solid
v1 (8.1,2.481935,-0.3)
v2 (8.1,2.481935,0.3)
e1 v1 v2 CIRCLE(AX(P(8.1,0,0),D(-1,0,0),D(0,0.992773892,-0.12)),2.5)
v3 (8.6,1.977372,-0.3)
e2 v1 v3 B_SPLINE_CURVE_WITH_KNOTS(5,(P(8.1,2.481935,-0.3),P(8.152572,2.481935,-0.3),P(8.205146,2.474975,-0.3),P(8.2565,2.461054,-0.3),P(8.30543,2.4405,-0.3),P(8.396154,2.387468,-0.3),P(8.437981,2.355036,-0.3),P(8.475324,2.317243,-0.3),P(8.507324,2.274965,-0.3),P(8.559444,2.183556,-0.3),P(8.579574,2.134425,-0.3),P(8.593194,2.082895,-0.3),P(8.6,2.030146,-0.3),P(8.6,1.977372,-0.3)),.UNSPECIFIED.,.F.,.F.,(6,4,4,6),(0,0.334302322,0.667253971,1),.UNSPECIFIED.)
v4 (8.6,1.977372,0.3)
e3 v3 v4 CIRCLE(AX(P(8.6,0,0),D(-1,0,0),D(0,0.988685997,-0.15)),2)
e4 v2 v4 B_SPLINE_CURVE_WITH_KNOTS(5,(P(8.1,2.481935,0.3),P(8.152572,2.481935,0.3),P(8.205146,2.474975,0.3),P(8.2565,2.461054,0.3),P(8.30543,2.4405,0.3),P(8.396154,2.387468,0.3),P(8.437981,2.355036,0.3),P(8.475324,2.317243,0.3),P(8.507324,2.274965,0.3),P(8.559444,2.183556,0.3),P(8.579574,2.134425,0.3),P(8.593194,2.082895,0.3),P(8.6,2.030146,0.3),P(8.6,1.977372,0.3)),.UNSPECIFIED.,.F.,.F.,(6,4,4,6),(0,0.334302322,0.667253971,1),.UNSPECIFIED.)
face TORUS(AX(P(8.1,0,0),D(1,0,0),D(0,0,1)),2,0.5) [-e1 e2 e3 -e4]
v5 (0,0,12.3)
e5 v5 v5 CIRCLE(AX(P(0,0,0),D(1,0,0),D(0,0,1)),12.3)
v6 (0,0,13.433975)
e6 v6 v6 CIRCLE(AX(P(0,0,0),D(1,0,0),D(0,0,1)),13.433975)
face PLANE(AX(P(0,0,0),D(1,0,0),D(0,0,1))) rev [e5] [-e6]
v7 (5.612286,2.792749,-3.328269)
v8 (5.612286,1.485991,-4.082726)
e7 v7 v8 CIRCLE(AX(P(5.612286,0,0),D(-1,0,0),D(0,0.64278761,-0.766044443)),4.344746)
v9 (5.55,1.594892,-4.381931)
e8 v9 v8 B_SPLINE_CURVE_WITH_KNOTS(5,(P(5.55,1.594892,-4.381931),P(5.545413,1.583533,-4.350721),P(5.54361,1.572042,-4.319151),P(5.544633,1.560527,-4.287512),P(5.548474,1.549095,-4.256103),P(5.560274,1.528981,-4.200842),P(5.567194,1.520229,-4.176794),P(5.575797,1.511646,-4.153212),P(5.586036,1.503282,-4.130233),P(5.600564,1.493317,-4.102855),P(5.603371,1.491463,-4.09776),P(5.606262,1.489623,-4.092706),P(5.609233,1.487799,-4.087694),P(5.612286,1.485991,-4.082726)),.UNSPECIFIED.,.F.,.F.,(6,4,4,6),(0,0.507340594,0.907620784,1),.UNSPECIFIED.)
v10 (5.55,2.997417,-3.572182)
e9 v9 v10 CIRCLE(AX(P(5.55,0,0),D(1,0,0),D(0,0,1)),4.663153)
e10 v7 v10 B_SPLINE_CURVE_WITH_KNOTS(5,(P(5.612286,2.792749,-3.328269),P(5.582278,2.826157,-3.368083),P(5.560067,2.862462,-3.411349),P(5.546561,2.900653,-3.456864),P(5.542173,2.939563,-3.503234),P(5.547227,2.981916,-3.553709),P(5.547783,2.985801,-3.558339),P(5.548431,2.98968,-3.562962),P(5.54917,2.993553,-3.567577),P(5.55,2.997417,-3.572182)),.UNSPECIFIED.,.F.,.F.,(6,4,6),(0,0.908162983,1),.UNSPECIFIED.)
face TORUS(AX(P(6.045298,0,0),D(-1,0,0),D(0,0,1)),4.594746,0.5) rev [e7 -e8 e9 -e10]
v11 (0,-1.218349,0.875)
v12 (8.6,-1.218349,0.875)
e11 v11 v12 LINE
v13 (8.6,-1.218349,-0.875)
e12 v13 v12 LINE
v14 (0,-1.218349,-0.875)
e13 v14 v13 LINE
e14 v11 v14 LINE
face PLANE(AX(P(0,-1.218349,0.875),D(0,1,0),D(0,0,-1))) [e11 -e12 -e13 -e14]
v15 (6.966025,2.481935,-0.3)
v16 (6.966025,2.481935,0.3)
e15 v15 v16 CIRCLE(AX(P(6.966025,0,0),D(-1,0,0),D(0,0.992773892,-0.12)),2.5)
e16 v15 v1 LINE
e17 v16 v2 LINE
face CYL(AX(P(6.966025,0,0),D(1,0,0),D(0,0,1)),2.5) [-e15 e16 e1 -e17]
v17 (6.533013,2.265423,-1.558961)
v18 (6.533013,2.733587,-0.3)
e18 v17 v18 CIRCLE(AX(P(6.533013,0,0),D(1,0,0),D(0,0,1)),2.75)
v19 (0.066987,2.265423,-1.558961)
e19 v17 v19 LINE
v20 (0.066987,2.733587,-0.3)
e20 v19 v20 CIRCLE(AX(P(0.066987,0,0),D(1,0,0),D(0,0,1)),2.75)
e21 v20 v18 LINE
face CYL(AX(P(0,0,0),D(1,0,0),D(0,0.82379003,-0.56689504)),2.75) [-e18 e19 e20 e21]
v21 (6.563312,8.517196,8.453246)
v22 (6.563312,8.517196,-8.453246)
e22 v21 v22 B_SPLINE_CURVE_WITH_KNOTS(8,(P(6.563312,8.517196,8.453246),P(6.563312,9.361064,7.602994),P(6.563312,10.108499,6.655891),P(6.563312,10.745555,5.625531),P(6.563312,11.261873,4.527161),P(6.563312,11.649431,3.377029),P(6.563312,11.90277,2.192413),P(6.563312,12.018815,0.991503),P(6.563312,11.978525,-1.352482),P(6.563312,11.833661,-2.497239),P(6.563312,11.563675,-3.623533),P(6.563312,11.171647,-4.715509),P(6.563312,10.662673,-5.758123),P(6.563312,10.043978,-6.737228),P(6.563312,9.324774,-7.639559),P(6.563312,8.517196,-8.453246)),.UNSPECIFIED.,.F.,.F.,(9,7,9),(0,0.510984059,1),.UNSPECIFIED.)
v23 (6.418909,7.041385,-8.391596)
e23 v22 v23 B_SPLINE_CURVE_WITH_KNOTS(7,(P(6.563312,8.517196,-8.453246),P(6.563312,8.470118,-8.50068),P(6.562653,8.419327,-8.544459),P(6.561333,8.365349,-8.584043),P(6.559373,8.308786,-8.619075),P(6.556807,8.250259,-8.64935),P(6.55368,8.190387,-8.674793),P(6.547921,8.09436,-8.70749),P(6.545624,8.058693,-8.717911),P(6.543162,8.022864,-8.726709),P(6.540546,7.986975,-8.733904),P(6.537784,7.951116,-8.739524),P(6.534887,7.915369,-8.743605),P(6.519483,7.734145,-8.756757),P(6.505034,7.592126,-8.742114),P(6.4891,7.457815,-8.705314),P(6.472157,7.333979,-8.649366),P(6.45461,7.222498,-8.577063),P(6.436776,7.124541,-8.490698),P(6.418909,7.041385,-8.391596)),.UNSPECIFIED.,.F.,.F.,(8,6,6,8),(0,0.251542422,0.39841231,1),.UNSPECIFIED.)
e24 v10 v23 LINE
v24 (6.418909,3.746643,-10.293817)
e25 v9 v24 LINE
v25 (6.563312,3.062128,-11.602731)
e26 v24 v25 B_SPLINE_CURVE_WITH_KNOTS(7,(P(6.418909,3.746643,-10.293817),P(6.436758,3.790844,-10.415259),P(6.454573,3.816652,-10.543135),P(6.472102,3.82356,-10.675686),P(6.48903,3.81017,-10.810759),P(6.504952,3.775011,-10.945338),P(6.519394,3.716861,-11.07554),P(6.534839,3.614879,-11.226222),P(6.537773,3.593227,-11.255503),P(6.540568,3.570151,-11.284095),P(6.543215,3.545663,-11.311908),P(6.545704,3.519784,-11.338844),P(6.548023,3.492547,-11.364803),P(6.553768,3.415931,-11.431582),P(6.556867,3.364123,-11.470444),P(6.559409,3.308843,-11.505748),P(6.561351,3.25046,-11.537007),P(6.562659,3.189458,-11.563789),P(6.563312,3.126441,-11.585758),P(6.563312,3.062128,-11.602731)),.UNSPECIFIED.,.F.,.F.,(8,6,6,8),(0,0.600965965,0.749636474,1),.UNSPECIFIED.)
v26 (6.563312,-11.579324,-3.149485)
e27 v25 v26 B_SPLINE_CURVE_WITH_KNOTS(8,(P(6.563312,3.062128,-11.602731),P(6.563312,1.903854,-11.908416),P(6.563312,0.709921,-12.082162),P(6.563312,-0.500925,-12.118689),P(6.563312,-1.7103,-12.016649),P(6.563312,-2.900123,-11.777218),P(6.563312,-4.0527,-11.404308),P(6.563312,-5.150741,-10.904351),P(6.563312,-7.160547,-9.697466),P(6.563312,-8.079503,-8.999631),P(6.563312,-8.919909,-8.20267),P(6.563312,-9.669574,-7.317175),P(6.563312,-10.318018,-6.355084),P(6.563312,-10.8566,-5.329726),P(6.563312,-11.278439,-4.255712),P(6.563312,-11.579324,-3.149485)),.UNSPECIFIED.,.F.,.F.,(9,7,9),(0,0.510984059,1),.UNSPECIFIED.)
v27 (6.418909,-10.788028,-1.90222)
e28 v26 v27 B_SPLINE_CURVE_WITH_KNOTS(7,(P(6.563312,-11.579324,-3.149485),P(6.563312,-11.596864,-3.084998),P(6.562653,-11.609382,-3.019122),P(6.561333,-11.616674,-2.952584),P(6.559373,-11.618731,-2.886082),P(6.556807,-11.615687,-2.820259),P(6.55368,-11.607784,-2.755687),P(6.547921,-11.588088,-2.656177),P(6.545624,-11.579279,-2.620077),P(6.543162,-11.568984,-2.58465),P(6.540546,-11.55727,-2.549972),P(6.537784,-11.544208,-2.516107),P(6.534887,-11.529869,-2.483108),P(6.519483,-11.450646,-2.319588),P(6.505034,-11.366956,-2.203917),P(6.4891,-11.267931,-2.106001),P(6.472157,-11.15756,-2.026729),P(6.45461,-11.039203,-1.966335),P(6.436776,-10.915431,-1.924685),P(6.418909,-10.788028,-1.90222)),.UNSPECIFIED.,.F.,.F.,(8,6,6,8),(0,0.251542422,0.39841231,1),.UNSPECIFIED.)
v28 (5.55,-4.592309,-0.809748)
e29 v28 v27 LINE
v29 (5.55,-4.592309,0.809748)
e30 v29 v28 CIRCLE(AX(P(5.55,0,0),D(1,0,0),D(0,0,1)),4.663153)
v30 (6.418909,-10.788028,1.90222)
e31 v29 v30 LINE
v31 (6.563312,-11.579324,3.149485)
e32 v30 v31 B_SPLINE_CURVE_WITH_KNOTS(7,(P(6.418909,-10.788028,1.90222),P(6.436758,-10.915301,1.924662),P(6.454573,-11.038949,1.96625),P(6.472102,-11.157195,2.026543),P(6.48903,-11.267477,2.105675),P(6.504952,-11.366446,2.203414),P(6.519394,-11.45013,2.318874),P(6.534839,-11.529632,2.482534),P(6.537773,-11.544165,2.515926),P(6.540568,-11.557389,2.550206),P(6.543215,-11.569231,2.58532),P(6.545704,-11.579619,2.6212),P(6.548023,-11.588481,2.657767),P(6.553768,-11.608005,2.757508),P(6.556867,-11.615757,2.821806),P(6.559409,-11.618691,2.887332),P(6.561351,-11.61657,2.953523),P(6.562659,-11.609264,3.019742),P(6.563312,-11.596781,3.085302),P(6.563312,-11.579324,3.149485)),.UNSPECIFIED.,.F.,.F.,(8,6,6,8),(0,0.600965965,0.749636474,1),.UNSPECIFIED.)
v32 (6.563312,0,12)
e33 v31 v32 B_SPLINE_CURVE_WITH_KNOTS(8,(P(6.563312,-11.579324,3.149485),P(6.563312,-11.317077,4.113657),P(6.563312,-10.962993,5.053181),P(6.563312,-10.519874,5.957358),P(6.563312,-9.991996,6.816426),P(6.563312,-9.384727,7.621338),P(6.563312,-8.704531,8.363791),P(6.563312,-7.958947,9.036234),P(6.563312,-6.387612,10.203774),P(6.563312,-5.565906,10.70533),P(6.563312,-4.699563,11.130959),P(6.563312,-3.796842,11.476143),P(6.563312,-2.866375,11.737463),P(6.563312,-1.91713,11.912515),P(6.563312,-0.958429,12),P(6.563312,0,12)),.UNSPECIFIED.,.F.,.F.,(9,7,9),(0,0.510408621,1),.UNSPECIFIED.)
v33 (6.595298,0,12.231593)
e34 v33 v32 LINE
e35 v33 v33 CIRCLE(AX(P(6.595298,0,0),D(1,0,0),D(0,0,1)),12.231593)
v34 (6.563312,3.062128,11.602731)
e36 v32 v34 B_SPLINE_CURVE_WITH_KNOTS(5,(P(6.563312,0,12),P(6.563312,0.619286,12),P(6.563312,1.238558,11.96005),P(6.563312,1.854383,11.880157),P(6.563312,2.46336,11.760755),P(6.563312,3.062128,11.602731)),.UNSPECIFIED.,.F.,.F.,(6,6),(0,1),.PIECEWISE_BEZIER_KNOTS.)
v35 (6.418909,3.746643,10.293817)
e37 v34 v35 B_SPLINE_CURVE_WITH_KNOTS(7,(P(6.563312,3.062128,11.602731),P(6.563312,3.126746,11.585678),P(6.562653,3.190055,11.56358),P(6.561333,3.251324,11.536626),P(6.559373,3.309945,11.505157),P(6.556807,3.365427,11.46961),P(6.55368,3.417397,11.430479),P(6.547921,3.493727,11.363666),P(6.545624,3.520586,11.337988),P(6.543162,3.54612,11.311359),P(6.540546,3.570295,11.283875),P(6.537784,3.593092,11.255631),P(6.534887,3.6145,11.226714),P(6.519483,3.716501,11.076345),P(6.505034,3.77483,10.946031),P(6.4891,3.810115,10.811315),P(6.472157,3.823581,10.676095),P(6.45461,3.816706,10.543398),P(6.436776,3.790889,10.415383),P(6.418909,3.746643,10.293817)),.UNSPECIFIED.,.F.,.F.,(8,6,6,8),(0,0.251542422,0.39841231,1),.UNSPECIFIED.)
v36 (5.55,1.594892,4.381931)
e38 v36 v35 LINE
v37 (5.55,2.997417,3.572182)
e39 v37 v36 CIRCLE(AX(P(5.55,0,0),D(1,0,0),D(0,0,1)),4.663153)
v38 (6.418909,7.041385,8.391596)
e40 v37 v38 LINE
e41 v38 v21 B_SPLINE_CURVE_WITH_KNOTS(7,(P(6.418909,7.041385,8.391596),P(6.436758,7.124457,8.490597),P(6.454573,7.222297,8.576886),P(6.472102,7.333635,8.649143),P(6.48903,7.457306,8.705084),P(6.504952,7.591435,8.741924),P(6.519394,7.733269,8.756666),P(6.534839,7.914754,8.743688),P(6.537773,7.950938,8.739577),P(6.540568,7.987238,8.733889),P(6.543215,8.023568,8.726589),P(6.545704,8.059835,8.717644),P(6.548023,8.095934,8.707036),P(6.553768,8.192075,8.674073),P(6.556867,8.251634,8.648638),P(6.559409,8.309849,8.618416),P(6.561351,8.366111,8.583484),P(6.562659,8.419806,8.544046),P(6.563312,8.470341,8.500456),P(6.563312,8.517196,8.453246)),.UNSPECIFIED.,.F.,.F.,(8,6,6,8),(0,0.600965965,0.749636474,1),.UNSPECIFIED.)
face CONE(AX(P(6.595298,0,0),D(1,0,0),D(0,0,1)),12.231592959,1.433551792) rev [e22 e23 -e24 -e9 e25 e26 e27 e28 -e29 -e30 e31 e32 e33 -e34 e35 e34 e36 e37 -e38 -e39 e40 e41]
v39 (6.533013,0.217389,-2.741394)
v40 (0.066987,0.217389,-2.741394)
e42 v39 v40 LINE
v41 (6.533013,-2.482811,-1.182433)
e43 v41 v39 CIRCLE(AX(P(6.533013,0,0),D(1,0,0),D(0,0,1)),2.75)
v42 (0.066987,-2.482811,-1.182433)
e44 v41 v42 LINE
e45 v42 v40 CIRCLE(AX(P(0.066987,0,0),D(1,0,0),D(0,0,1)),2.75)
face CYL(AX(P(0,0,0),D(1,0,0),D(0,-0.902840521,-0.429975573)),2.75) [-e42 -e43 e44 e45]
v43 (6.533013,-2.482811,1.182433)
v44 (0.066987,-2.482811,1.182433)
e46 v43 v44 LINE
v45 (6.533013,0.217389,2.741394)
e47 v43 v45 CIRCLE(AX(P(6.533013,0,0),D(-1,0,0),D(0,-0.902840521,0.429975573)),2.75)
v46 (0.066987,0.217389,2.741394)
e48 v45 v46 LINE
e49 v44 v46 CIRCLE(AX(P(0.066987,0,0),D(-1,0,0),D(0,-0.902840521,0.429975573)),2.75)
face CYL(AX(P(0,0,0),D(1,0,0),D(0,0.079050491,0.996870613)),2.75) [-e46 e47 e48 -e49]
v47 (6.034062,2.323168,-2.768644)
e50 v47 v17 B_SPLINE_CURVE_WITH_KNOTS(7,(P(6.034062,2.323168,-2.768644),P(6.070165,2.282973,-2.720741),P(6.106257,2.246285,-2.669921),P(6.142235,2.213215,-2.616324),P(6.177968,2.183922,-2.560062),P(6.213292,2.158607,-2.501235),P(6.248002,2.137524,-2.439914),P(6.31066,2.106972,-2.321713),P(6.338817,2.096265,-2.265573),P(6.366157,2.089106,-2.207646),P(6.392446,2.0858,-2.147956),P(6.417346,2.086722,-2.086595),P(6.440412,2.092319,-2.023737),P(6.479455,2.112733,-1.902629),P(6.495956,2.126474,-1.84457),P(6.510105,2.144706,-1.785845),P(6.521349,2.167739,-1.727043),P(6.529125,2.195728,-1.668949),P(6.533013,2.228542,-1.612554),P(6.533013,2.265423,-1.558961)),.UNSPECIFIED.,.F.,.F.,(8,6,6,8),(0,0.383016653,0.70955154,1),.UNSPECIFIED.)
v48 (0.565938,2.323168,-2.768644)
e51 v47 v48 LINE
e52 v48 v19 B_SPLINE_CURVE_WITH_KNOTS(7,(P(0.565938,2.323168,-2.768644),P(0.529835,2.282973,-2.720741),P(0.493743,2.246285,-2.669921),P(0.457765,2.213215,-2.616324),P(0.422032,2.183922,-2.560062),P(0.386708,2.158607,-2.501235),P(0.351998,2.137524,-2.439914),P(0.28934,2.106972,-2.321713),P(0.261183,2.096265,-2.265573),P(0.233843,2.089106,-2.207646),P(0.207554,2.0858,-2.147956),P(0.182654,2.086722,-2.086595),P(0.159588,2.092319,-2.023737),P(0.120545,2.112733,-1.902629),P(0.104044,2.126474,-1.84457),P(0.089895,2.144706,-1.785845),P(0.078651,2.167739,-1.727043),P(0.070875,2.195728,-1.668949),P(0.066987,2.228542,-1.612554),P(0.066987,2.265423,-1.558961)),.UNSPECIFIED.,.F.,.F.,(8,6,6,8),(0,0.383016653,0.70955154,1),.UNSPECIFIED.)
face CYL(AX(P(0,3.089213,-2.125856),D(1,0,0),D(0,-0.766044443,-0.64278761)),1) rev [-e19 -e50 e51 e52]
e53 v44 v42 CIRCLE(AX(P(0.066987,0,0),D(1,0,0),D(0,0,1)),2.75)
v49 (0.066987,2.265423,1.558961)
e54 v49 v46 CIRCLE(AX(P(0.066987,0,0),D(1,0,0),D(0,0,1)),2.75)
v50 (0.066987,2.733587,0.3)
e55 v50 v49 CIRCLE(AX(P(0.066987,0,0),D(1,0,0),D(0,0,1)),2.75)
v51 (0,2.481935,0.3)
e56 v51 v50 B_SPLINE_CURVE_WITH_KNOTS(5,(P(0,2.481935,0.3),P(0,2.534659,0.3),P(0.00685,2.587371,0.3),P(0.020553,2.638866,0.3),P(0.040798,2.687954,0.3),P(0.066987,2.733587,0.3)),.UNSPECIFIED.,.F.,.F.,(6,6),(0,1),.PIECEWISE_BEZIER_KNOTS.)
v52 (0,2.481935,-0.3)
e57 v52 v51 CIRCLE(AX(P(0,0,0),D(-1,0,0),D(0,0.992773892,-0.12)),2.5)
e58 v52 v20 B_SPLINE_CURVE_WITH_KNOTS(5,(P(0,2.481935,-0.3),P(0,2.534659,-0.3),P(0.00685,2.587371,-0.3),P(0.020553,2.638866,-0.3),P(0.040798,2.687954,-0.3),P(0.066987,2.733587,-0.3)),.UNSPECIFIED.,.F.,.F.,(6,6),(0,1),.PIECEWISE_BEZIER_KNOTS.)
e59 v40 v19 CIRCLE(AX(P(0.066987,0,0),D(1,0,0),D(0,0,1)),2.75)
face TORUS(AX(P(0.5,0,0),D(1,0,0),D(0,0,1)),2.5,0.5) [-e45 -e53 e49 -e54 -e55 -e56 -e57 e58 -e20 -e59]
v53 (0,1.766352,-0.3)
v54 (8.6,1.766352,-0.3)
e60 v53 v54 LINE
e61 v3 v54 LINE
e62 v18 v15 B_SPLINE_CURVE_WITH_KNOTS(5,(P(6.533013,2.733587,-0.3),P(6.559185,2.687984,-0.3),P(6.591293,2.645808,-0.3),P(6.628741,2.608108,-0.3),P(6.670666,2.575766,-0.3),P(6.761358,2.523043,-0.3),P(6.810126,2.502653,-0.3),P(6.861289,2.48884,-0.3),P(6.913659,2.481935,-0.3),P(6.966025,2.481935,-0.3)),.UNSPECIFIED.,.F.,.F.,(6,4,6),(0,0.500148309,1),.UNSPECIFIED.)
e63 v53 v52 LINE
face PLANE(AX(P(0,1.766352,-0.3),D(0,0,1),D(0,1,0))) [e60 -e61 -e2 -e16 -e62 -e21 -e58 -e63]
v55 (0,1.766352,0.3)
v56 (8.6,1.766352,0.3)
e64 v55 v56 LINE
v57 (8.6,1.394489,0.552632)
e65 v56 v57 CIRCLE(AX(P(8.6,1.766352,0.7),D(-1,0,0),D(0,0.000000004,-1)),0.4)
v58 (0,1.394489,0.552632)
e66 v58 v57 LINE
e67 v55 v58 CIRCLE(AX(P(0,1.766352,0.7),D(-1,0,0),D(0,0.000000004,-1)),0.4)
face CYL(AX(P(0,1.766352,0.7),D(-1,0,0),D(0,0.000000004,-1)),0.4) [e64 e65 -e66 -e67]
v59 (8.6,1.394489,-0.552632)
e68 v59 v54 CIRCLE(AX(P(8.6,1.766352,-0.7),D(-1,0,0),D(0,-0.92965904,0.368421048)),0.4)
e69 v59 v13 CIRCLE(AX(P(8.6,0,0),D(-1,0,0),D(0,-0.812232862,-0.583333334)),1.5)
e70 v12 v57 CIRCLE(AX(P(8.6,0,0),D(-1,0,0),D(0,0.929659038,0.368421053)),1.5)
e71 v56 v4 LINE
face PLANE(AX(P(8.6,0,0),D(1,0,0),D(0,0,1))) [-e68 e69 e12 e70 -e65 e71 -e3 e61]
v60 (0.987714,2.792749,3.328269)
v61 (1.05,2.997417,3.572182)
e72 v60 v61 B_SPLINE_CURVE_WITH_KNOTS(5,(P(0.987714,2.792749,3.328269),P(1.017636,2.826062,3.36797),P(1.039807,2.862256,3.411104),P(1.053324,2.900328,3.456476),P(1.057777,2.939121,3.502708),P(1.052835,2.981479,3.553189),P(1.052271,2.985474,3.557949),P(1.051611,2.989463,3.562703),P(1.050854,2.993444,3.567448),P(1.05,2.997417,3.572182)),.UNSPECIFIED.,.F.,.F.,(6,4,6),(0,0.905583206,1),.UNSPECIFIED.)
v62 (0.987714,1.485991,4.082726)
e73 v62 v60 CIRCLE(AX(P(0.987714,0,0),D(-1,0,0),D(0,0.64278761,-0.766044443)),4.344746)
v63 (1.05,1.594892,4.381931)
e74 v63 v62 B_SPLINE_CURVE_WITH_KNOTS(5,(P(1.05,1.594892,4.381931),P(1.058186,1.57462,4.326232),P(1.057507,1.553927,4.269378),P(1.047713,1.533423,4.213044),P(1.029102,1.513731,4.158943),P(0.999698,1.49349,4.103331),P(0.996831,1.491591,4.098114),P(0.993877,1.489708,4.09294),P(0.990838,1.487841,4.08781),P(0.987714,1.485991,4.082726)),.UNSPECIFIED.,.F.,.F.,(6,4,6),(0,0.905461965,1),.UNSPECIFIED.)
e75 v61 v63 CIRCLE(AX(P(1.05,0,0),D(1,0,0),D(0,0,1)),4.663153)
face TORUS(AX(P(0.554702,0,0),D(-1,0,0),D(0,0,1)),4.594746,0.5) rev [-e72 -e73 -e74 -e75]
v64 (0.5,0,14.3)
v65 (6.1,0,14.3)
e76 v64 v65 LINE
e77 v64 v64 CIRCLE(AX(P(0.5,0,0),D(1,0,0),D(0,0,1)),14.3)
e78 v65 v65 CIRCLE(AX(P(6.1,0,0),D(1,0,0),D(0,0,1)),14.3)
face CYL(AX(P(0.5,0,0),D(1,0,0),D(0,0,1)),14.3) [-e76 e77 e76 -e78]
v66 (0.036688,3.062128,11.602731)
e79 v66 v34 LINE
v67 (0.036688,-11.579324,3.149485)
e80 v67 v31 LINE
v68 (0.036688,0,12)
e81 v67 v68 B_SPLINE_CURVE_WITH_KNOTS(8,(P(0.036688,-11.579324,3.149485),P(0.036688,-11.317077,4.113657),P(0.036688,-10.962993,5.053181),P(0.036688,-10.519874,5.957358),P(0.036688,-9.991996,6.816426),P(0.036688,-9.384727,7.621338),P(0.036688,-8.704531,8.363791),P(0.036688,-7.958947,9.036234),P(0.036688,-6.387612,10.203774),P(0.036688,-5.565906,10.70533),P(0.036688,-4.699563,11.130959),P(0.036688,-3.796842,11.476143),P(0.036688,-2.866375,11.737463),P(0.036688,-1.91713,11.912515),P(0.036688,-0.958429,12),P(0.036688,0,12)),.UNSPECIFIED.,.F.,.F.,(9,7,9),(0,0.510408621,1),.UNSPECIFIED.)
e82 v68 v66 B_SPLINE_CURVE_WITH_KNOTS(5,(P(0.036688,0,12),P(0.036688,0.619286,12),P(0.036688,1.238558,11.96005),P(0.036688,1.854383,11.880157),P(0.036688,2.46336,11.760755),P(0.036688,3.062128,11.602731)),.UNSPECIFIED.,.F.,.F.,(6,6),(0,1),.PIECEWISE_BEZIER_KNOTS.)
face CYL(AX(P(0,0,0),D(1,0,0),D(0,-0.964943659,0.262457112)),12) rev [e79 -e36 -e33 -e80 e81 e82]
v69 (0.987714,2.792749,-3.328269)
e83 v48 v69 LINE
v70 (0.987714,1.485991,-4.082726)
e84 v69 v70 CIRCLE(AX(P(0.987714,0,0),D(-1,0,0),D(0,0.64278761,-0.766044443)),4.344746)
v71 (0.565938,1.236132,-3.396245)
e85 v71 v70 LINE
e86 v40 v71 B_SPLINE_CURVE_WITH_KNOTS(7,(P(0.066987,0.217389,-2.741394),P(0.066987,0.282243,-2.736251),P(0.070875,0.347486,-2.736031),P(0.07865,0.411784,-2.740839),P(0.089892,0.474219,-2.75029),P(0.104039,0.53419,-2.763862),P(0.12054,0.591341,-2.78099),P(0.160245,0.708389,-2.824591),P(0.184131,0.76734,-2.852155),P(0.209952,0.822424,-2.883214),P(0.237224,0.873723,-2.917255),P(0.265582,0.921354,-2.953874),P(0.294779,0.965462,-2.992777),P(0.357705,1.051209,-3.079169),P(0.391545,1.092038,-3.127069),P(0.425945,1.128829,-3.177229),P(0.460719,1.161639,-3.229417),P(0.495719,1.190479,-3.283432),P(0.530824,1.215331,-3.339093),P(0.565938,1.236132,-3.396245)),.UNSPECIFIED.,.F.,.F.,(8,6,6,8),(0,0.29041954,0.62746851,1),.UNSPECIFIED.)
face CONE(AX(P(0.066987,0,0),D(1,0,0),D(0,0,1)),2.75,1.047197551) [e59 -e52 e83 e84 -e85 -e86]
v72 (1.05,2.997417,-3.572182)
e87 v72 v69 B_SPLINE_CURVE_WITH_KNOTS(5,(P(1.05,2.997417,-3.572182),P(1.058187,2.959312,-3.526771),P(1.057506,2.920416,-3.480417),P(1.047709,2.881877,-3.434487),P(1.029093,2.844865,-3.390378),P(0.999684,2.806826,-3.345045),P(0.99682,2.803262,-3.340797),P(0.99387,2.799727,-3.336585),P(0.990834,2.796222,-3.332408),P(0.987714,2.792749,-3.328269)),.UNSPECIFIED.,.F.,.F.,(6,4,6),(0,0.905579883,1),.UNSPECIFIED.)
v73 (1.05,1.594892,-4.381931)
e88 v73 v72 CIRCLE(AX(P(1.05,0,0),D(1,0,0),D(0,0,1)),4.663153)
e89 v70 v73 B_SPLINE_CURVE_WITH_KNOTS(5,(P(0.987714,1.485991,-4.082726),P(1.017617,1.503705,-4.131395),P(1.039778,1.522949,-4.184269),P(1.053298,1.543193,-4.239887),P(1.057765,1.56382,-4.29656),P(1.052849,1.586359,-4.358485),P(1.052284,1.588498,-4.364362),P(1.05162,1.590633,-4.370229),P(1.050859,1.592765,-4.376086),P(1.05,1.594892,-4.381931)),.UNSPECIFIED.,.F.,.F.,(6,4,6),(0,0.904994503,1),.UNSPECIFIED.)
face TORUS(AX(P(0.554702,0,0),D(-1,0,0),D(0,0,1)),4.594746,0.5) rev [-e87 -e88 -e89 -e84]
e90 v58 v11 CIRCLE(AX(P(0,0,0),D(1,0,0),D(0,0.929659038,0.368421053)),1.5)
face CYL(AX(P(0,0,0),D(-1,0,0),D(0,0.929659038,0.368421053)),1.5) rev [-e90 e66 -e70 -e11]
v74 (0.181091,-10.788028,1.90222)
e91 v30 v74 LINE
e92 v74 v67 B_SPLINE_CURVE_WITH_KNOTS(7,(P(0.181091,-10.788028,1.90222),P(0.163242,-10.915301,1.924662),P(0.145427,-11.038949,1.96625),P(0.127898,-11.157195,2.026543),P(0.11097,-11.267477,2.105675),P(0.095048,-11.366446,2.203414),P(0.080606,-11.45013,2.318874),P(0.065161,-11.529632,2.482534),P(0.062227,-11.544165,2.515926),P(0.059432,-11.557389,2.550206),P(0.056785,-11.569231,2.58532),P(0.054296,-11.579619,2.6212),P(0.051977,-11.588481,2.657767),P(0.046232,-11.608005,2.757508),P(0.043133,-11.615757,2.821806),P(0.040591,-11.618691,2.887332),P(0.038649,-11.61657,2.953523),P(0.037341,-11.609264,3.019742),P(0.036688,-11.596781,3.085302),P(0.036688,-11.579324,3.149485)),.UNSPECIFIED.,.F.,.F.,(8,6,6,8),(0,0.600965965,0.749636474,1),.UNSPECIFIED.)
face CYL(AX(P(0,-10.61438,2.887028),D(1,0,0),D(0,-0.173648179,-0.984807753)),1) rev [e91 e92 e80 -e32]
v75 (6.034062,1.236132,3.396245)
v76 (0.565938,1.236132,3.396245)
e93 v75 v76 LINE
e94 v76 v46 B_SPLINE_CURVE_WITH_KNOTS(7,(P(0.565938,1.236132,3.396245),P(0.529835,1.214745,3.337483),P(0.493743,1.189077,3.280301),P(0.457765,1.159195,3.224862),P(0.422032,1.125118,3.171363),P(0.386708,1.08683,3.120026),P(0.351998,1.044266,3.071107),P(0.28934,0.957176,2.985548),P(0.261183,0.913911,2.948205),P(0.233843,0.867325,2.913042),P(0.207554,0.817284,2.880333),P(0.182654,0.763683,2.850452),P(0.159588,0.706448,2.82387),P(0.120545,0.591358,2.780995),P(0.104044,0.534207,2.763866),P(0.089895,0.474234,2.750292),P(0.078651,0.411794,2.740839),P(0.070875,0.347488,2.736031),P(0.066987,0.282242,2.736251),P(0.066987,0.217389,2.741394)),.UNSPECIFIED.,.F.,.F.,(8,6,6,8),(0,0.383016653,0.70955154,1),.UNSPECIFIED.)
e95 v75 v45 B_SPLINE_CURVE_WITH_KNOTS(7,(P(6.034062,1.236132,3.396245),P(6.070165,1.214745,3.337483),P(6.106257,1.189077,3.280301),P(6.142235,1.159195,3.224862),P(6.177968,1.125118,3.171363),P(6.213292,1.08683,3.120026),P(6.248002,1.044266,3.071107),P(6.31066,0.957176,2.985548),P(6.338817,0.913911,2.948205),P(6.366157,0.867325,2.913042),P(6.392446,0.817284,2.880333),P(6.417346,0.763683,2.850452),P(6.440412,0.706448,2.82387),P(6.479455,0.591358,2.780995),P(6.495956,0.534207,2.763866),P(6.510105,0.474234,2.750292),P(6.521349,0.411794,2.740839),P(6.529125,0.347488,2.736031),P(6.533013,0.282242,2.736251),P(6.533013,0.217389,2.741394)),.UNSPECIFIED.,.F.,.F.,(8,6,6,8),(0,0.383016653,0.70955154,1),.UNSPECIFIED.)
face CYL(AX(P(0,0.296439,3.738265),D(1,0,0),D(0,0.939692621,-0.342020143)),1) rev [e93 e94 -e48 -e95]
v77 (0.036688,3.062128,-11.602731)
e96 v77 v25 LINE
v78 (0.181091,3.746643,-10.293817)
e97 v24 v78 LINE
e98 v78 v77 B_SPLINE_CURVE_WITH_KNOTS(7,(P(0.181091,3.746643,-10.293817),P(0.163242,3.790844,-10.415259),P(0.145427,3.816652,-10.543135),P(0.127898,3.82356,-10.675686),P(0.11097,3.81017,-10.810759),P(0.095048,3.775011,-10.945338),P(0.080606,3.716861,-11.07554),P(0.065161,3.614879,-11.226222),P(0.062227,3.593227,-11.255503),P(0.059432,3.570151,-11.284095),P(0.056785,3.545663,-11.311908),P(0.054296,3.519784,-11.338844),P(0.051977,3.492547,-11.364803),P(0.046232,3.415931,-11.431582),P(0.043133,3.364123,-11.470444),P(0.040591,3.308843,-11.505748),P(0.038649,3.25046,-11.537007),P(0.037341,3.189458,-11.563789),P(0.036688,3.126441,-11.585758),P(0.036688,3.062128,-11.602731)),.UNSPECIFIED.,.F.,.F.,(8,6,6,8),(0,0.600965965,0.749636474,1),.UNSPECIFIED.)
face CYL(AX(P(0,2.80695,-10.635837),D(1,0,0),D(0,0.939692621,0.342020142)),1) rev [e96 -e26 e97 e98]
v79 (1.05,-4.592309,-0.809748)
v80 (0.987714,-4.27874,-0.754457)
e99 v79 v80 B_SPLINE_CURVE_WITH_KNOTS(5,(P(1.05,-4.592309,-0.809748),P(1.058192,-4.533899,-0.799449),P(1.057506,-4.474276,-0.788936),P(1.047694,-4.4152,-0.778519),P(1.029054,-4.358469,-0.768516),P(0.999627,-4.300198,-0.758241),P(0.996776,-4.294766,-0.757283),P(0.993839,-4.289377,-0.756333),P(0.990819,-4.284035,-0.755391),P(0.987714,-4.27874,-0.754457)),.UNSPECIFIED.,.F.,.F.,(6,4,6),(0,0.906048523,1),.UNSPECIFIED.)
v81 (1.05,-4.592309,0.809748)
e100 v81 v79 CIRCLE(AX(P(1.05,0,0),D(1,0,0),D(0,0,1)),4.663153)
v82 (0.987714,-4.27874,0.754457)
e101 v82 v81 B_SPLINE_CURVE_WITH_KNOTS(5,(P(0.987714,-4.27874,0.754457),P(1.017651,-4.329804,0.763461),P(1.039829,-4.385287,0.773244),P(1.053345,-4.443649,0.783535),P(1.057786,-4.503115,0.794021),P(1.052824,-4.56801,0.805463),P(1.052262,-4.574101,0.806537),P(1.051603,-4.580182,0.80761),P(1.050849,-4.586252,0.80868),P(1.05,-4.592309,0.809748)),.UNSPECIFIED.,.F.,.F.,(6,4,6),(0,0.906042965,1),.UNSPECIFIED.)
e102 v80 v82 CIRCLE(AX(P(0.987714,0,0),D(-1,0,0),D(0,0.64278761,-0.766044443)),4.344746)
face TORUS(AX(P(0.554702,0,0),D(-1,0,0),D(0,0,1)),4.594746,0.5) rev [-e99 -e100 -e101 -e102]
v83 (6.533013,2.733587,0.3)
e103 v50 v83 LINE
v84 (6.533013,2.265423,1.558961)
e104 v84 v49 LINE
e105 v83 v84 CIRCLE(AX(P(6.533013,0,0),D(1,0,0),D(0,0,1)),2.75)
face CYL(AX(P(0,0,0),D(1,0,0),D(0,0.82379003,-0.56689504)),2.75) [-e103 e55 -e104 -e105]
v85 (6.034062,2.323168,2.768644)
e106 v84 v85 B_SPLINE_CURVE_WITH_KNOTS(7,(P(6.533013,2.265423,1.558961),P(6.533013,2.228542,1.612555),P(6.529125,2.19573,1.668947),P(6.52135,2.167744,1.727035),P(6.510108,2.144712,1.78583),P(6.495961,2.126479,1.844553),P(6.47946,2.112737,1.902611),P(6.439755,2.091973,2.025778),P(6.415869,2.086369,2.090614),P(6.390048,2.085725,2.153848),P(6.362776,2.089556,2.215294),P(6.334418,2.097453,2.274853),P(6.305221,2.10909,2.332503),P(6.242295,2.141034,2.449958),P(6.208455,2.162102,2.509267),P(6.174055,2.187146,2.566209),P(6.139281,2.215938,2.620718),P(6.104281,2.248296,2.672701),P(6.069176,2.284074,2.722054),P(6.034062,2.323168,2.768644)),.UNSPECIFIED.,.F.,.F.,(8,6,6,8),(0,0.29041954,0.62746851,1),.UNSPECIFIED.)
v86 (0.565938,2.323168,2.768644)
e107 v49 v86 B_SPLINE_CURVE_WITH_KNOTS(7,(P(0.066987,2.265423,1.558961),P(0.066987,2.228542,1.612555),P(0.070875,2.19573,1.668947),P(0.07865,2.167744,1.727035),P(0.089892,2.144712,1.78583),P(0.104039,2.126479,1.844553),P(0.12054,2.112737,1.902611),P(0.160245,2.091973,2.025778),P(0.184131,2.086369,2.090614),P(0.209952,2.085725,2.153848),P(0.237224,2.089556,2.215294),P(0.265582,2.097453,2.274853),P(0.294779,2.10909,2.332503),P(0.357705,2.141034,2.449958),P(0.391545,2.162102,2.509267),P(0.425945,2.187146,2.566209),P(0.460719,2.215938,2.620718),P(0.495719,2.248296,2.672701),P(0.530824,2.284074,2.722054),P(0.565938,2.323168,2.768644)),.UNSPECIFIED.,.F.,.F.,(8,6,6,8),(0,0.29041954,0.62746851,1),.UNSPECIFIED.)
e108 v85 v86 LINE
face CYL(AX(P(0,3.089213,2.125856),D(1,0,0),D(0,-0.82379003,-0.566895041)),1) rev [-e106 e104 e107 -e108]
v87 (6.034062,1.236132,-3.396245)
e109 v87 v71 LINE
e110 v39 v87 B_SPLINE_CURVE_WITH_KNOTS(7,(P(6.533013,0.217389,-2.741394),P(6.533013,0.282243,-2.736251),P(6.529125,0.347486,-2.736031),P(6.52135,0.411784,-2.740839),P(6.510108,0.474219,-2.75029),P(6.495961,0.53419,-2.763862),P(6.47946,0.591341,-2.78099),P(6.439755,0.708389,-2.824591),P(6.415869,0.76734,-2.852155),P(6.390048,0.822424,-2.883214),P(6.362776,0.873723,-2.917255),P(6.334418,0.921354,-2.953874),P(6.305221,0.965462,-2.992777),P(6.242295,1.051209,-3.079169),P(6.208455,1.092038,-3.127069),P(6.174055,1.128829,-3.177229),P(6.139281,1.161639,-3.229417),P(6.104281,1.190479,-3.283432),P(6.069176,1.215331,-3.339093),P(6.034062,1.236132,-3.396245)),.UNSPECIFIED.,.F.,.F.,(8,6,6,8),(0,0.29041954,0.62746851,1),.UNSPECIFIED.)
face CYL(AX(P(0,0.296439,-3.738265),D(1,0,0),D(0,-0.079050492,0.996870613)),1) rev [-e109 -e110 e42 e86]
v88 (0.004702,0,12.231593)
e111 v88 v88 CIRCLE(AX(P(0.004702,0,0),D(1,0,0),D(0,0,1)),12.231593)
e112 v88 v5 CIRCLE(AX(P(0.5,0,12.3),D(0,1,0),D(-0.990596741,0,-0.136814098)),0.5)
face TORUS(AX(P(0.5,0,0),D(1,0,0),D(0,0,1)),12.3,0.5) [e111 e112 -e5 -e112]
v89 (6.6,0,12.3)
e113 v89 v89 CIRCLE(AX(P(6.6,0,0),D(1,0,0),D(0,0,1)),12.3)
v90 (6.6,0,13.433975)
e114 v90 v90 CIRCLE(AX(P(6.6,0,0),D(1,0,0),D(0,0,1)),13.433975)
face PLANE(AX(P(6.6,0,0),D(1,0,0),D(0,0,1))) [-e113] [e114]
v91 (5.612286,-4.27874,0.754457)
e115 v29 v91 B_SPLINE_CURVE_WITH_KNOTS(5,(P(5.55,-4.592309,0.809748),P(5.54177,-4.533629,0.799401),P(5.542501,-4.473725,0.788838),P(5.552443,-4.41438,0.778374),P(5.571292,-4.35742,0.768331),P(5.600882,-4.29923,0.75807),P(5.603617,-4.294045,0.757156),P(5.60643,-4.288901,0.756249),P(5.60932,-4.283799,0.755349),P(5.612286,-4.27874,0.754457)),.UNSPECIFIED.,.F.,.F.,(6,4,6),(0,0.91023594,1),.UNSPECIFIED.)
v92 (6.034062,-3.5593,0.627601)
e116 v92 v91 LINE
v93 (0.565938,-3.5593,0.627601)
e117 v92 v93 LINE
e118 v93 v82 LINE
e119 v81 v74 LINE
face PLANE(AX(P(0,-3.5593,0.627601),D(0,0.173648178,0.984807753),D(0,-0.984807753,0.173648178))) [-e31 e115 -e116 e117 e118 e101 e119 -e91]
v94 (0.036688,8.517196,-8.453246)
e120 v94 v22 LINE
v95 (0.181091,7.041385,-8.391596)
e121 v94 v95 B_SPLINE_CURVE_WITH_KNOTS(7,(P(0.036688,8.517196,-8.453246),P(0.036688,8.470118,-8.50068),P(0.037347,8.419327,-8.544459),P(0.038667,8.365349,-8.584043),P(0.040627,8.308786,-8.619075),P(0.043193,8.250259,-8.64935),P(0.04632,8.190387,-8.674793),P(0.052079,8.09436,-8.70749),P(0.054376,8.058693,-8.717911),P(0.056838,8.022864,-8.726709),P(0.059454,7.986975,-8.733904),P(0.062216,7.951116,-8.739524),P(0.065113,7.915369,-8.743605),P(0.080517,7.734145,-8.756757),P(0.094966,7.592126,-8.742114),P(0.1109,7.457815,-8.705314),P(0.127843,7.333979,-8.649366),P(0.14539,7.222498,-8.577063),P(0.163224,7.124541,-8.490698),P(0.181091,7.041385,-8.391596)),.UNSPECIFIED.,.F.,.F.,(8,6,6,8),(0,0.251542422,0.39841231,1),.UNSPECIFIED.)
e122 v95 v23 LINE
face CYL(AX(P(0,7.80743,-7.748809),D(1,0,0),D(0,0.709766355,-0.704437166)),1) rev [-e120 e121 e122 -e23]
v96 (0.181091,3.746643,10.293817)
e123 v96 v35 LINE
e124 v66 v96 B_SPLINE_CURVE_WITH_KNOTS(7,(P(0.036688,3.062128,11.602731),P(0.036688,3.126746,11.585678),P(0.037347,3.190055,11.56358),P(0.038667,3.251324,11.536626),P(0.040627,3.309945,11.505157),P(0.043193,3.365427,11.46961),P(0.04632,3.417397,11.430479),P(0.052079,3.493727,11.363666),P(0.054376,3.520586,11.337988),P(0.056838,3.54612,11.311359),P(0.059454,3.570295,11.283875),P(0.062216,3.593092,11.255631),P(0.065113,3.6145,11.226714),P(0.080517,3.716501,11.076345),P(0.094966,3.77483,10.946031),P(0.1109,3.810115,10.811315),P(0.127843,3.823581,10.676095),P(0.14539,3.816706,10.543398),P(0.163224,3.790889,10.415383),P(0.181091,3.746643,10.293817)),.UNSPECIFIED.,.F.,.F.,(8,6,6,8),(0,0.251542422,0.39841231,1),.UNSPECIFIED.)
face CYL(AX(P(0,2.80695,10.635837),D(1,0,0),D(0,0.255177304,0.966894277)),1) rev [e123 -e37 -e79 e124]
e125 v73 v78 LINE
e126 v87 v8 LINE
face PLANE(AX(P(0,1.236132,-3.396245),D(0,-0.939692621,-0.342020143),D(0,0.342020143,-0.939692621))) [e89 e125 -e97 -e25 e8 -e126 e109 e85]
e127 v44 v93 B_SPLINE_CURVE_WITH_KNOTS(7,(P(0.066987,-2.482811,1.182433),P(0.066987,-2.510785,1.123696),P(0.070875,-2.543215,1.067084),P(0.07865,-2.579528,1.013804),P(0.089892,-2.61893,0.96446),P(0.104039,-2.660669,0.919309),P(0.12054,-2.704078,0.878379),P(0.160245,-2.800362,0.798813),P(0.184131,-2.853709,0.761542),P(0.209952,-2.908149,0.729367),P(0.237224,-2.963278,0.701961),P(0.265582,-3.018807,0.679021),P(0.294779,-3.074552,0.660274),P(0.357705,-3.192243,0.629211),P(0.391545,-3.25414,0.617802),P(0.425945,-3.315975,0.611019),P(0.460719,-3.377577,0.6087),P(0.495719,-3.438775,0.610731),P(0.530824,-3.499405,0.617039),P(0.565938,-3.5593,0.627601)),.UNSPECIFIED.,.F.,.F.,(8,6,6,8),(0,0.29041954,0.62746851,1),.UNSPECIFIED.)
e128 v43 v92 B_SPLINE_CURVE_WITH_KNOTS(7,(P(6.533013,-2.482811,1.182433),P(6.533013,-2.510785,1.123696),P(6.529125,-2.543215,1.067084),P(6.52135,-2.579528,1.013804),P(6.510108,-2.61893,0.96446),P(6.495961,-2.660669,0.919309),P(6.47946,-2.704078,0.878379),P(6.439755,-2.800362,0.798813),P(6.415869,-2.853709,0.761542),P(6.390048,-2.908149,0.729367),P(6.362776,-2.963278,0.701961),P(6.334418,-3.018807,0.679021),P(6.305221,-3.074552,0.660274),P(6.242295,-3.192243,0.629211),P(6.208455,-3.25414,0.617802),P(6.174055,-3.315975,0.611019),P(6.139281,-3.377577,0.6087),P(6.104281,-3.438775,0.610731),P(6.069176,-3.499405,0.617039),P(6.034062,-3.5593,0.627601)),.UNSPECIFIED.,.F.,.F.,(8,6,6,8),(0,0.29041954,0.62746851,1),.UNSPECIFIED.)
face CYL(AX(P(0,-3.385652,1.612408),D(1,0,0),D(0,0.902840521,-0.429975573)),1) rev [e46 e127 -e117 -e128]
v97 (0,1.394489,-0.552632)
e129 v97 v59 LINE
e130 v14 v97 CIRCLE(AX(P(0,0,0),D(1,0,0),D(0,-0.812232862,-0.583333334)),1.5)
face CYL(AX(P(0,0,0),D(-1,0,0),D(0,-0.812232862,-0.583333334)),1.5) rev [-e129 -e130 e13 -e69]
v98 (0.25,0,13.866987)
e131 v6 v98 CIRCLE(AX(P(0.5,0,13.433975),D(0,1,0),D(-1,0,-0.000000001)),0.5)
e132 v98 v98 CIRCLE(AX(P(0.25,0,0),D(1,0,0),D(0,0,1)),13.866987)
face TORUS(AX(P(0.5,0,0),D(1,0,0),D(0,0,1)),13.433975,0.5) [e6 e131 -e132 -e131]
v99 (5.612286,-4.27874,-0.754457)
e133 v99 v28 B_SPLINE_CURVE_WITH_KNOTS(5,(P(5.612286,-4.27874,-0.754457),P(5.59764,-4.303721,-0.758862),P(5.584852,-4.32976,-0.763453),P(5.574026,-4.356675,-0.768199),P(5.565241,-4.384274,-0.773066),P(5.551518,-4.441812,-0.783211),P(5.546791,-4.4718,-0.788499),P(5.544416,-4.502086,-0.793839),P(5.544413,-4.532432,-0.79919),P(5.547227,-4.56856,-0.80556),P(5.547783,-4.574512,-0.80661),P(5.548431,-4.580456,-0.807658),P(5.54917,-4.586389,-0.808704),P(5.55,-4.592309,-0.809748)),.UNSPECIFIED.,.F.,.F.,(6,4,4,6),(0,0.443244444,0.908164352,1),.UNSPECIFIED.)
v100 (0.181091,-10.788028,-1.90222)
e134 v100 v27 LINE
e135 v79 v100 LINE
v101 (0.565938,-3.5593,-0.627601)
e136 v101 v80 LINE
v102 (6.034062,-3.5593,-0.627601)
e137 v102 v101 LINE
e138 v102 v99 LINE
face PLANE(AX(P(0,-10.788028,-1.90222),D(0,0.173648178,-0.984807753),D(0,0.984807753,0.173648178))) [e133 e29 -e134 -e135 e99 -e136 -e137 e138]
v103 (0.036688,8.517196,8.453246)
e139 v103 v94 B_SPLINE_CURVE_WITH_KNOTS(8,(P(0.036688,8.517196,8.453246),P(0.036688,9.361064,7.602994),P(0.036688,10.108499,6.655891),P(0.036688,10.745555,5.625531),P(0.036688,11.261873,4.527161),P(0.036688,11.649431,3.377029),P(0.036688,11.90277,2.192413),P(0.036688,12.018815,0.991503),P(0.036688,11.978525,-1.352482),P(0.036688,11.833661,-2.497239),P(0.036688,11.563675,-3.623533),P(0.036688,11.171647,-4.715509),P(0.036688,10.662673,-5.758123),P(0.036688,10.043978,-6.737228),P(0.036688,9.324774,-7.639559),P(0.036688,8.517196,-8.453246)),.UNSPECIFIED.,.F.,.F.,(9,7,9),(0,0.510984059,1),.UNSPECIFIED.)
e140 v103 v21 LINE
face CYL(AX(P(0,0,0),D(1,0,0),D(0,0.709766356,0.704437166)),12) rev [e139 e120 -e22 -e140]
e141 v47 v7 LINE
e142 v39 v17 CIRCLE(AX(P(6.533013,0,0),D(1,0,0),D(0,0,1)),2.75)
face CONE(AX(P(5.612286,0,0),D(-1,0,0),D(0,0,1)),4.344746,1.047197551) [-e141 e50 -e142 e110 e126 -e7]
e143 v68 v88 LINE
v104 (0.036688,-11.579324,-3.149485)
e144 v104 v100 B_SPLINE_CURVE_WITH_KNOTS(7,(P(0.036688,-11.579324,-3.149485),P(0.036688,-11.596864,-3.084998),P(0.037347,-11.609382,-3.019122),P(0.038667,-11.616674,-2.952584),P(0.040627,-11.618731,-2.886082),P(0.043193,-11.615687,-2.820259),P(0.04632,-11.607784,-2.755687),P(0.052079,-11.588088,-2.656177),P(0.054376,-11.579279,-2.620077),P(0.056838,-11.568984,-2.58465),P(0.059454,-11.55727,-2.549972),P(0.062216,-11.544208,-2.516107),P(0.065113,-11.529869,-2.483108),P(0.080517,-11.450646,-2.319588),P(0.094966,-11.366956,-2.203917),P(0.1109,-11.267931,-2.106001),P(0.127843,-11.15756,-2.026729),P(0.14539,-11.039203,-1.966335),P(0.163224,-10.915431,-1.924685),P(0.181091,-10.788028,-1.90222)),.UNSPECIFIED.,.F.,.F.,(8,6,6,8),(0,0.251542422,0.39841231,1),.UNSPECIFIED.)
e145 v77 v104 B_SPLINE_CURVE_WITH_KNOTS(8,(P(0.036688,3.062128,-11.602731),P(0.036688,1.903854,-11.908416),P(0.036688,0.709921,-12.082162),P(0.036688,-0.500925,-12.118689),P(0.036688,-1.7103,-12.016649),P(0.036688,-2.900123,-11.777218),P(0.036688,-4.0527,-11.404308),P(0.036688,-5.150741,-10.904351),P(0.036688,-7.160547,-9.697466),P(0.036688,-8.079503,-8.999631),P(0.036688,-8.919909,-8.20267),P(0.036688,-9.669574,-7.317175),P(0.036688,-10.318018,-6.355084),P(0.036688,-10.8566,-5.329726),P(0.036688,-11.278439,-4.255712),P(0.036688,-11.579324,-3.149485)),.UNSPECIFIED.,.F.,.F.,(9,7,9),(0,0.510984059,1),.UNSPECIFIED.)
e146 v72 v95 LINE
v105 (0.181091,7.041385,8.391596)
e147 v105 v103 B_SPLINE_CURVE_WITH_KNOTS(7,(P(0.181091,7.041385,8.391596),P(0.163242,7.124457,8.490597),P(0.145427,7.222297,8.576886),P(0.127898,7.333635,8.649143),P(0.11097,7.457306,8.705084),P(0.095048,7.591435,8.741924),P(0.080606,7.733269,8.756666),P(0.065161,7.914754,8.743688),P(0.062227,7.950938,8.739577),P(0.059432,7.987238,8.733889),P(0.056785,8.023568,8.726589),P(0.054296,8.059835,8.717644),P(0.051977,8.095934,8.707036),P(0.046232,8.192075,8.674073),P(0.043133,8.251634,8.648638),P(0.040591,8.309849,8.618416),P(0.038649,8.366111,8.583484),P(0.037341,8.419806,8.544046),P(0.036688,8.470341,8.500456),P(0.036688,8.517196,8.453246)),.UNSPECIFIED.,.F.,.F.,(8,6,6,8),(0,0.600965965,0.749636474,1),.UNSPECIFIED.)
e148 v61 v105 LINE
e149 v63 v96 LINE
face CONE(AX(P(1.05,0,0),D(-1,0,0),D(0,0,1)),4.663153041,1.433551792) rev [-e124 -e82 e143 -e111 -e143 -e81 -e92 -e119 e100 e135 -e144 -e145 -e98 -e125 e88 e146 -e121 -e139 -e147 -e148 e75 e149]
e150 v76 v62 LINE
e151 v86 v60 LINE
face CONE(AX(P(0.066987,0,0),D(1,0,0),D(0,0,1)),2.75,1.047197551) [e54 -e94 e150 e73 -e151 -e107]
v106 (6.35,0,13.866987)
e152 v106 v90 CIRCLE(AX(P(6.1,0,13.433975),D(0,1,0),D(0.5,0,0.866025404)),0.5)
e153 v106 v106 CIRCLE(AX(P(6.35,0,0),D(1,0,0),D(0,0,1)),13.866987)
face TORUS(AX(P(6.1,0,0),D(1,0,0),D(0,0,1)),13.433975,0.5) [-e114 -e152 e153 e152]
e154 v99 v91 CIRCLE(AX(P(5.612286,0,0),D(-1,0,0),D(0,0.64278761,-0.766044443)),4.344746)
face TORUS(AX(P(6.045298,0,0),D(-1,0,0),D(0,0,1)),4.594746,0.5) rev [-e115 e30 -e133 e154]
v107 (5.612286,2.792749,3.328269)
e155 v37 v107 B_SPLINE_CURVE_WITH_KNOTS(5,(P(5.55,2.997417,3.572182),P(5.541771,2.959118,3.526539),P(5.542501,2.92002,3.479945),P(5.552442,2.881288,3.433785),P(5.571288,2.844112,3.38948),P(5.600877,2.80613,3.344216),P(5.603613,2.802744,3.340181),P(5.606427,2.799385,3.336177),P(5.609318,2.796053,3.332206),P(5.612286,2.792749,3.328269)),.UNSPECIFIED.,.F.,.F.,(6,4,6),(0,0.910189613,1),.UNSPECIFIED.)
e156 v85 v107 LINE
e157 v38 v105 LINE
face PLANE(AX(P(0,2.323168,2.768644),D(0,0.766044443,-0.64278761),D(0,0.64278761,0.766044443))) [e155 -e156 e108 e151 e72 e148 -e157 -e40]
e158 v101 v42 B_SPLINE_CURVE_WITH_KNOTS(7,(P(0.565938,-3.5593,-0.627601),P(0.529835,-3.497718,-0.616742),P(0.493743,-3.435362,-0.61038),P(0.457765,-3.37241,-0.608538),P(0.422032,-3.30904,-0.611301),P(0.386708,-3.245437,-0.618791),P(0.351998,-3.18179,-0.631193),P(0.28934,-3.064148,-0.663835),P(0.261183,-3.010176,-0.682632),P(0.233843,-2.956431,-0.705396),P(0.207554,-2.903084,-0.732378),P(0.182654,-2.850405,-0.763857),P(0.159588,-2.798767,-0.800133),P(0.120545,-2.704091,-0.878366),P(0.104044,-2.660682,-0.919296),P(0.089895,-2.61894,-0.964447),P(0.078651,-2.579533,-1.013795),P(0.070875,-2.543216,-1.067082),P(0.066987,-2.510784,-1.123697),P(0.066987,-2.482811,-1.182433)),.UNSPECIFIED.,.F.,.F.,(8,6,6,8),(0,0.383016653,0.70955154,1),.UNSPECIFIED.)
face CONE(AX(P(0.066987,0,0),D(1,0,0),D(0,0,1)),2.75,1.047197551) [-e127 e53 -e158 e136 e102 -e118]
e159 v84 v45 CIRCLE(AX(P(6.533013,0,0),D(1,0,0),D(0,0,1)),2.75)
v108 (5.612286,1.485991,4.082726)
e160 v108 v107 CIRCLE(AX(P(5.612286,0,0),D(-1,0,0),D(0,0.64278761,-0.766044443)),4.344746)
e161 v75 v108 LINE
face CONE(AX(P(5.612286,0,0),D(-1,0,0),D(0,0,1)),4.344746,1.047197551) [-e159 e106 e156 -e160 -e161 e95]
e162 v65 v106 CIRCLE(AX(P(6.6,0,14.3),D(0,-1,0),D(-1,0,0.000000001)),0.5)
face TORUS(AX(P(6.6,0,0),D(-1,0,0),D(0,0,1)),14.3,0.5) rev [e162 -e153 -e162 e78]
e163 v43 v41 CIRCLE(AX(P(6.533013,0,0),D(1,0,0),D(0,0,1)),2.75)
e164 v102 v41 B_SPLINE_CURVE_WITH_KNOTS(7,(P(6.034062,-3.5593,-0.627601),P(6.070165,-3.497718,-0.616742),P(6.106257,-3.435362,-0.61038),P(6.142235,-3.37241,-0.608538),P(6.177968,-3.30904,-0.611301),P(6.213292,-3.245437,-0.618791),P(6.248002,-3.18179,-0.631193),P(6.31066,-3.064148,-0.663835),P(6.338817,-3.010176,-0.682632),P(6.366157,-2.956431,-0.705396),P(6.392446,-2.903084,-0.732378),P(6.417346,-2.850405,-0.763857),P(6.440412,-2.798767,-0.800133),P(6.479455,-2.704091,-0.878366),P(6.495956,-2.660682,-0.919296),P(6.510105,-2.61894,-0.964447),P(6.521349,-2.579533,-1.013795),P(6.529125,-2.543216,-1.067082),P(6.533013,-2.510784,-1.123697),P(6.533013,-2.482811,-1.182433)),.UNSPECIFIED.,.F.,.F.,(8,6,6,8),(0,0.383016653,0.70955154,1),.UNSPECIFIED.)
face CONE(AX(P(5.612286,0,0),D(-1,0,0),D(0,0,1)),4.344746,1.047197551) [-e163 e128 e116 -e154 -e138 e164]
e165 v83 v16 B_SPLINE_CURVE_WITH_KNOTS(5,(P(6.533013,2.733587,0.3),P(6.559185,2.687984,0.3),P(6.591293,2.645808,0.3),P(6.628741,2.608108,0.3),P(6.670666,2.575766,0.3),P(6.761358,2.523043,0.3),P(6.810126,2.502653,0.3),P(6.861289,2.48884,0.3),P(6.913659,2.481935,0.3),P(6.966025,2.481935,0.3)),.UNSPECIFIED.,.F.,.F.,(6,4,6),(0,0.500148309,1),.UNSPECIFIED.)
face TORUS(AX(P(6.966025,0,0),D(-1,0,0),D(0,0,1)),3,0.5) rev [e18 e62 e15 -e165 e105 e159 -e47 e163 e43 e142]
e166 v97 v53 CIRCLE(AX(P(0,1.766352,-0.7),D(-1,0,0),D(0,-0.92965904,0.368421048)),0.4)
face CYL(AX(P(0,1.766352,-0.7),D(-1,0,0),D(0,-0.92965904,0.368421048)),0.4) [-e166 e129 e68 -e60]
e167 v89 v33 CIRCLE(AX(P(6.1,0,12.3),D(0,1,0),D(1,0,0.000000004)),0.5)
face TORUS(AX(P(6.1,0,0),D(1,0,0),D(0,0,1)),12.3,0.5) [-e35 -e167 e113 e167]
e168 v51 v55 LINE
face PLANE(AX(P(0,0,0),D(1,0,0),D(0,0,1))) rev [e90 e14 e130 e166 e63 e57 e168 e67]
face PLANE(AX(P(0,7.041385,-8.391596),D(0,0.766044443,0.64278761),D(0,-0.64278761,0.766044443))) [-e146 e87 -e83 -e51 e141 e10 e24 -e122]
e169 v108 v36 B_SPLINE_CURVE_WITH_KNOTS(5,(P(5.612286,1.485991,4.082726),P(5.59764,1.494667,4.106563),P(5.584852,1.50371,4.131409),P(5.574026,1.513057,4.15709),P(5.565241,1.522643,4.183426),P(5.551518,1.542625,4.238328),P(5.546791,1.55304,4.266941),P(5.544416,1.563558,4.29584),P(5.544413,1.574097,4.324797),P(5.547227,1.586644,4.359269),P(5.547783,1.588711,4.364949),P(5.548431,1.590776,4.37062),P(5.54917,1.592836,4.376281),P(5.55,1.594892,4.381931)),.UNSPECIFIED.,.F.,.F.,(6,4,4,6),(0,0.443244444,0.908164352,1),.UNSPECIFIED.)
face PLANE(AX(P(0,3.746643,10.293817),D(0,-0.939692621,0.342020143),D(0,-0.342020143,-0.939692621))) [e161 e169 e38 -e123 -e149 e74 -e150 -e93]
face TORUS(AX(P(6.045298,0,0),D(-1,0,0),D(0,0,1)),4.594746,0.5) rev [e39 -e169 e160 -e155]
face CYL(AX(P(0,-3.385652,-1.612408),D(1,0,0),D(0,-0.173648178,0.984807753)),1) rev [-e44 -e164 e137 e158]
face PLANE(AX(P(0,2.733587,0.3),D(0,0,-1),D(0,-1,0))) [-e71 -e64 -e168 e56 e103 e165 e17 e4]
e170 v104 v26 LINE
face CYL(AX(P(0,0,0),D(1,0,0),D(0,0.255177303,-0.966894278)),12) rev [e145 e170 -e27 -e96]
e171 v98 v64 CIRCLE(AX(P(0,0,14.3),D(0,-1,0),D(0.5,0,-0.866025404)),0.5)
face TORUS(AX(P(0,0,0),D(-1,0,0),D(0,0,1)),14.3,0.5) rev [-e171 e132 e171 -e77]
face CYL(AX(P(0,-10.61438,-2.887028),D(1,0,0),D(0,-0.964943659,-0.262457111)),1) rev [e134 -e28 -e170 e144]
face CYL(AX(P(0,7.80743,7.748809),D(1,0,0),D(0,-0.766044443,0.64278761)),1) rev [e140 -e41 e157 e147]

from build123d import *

# Parameters (mm, degrees)
CUT_EXTRUDE2_DEPTH = 22.975895886
CIRPATTERN1_COUNT  = 3
CUT_EXTRUDE3_DEPTH = 22.975895886


with BuildPart() as part:
    # Sketch1 → Revolve1 (revolve)
    with BuildSketch(Plane(origin=(0, 0, 0), x_dir=(1, 0, 0), z_dir=(0, 1, 0)), mode=Mode.PRIVATE) as revolve1_sk:
        with BuildLine():
            Line((0, 0), (0, 2.5))
            ThreePointArc((0, 2.5), (0.017037087, 2.629409523), (0.066987298, 2.75))
            Line((0.066987298, 2.75), (0.98771433, 4.344746))
            ThreePointArc((0.98771433, 4.344746), (1.045401255, 4.498757059), (1.05, 4.663153041))
            Line((1.05, 4.663153041), (0.004701629, 12.231592959))
            ThreePointArc((0.004701629, 12.231592959), (0.001176792, 12.265715789), (0, 12.3))
            Line((0, 12.3), (0, 13.433974596))
            ThreePointArc((0, 13.433974596), (0.066987298, 13.683974596), (0.25, 13.866987298))
            ThreePointArc((0.25, 13.866987298), (0.433012702, 14.05), (0.5, 14.3))
            Line((0.5, 14.3), (6.1, 14.3))
            ThreePointArc((6.1, 14.3), (6.166987298, 14.05), (6.35, 13.866987298))
            ThreePointArc((6.35, 13.866987298), (6.533012702, 13.683974596), (6.6, 13.433974596))
            Line((6.6, 13.433974596), (6.6, 12.3))
            ThreePointArc((6.6, 12.3), (6.598823208, 12.265715789), (6.595298371, 12.231592959))
            Line((6.595298371, 12.231592959), (5.55, 4.663153041))
            ThreePointArc((5.55, 4.663153041), (5.554598745, 4.498757059), (5.61228567, 4.344746))
            Line((5.61228567, 4.344746), (6.533012702, 2.75))
            ThreePointArc((6.533012702, 2.75), (6.716025404, 2.566987298), (6.966025404, 2.5))
            Line((6.966025404, 2.5), (8.1, 2.5))
            ThreePointArc((8.1, 2.5), (8.453553391, 2.353553391), (8.6, 2))
            Line((8.6, 2), (8.6, 0))
            Line((8.6, 0), (0, 0))
        make_face()
    revolve(revolve1_sk.sketch.rotate(Axis((0, 0, 0), (1, 0, 0)), 180), axis=Axis((0, 0, 0), (1, 0, 0)))

    # Sketch2 → Cut-Extrude2 (cut, symmetric)
    with BuildSketch(Plane(origin=(0, 0, 0), x_dir=(0, 0, -1), z_dir=(1, 0, 0))):
        with BuildLine():
            Line((8.391596431, 7.04138547), (2.768644011, 2.323168169))
            ThreePointArc((2.768644011, 2.323168169), (2.17353825, 2.090350038), (1.558961361, 2.265422582))
            ThreePointArc((1.558961361, 2.265422582), (0, 2.75), (-1.558961361, 2.265422582))
            ThreePointArc((-1.558961361, 2.265422582), (-2.17353825, 2.090350038), (-2.768644011, 2.323168169))
            Line((-2.768644011, 2.323168169), (-8.391596431, 7.04138547))
            ThreePointArc((-8.391596431, 7.04138547), (-8.747937455, 7.765692967), (-8.453245987, 8.517196269))
            ThreePointArc((-8.453245987, 8.517196269), (0, 12), (8.453245987, 8.517196269))
            ThreePointArc((8.453245987, 8.517196269), (8.747937455, 7.765692967), (8.391596431, 7.04138547))
        make_face()
    cut_extrude2 = extrude(amount=CUT_EXTRUDE2_DEPTH, both=True, mode=Mode.SUBTRACT)

    # CirPattern1: Cut-Extrude2 ×3 about axis
    cirpattern1_axis = Axis((0, 0, 0), (1, 0, 0))
    for i in range(1, CIRPATTERN1_COUNT):
        add(cut_extrude2.rotate(cirpattern1_axis, i * 360 / CIRPATTERN1_COUNT), mode=Mode.SUBTRACT)

    # Sketch3 → Cut-Extrude3 (cut, through all)
    with BuildSketch(Plane.ZY):
        with BuildLine():
            Line((0.875, -1.218349293), (-0.875, -1.218349293))
            ThreePointArc((-0.875, -1.218349293), (-1.48871199, 0.183675284), (-0.552631579, 1.394488558))
            ThreePointArc((-0.552631579, 1.394488558), (-0.369131923, 1.541571578), (-0.3, 1.766352173))
            Line((-0.3, 1.766352173), (-0.3, 2.733587387))
            ThreePointArc((-0.3, 2.733587387), (0, 2.75), (0.3, 2.733587387))
            Line((0.3, 2.733587387), (0.3, 1.766352173))
            ThreePointArc((0.3, 1.766352173), (0.369131923, 1.541571578), (0.552631579, 1.394488558))
            ThreePointArc((0.552631579, 1.394488558), (1.48871199, 0.183675284), (0.875, -1.218349293))
        make_face()
    extrude(amount=-CUT_EXTRUDE3_DEPTH, mode=Mode.SUBTRACT)


solid = part.part
